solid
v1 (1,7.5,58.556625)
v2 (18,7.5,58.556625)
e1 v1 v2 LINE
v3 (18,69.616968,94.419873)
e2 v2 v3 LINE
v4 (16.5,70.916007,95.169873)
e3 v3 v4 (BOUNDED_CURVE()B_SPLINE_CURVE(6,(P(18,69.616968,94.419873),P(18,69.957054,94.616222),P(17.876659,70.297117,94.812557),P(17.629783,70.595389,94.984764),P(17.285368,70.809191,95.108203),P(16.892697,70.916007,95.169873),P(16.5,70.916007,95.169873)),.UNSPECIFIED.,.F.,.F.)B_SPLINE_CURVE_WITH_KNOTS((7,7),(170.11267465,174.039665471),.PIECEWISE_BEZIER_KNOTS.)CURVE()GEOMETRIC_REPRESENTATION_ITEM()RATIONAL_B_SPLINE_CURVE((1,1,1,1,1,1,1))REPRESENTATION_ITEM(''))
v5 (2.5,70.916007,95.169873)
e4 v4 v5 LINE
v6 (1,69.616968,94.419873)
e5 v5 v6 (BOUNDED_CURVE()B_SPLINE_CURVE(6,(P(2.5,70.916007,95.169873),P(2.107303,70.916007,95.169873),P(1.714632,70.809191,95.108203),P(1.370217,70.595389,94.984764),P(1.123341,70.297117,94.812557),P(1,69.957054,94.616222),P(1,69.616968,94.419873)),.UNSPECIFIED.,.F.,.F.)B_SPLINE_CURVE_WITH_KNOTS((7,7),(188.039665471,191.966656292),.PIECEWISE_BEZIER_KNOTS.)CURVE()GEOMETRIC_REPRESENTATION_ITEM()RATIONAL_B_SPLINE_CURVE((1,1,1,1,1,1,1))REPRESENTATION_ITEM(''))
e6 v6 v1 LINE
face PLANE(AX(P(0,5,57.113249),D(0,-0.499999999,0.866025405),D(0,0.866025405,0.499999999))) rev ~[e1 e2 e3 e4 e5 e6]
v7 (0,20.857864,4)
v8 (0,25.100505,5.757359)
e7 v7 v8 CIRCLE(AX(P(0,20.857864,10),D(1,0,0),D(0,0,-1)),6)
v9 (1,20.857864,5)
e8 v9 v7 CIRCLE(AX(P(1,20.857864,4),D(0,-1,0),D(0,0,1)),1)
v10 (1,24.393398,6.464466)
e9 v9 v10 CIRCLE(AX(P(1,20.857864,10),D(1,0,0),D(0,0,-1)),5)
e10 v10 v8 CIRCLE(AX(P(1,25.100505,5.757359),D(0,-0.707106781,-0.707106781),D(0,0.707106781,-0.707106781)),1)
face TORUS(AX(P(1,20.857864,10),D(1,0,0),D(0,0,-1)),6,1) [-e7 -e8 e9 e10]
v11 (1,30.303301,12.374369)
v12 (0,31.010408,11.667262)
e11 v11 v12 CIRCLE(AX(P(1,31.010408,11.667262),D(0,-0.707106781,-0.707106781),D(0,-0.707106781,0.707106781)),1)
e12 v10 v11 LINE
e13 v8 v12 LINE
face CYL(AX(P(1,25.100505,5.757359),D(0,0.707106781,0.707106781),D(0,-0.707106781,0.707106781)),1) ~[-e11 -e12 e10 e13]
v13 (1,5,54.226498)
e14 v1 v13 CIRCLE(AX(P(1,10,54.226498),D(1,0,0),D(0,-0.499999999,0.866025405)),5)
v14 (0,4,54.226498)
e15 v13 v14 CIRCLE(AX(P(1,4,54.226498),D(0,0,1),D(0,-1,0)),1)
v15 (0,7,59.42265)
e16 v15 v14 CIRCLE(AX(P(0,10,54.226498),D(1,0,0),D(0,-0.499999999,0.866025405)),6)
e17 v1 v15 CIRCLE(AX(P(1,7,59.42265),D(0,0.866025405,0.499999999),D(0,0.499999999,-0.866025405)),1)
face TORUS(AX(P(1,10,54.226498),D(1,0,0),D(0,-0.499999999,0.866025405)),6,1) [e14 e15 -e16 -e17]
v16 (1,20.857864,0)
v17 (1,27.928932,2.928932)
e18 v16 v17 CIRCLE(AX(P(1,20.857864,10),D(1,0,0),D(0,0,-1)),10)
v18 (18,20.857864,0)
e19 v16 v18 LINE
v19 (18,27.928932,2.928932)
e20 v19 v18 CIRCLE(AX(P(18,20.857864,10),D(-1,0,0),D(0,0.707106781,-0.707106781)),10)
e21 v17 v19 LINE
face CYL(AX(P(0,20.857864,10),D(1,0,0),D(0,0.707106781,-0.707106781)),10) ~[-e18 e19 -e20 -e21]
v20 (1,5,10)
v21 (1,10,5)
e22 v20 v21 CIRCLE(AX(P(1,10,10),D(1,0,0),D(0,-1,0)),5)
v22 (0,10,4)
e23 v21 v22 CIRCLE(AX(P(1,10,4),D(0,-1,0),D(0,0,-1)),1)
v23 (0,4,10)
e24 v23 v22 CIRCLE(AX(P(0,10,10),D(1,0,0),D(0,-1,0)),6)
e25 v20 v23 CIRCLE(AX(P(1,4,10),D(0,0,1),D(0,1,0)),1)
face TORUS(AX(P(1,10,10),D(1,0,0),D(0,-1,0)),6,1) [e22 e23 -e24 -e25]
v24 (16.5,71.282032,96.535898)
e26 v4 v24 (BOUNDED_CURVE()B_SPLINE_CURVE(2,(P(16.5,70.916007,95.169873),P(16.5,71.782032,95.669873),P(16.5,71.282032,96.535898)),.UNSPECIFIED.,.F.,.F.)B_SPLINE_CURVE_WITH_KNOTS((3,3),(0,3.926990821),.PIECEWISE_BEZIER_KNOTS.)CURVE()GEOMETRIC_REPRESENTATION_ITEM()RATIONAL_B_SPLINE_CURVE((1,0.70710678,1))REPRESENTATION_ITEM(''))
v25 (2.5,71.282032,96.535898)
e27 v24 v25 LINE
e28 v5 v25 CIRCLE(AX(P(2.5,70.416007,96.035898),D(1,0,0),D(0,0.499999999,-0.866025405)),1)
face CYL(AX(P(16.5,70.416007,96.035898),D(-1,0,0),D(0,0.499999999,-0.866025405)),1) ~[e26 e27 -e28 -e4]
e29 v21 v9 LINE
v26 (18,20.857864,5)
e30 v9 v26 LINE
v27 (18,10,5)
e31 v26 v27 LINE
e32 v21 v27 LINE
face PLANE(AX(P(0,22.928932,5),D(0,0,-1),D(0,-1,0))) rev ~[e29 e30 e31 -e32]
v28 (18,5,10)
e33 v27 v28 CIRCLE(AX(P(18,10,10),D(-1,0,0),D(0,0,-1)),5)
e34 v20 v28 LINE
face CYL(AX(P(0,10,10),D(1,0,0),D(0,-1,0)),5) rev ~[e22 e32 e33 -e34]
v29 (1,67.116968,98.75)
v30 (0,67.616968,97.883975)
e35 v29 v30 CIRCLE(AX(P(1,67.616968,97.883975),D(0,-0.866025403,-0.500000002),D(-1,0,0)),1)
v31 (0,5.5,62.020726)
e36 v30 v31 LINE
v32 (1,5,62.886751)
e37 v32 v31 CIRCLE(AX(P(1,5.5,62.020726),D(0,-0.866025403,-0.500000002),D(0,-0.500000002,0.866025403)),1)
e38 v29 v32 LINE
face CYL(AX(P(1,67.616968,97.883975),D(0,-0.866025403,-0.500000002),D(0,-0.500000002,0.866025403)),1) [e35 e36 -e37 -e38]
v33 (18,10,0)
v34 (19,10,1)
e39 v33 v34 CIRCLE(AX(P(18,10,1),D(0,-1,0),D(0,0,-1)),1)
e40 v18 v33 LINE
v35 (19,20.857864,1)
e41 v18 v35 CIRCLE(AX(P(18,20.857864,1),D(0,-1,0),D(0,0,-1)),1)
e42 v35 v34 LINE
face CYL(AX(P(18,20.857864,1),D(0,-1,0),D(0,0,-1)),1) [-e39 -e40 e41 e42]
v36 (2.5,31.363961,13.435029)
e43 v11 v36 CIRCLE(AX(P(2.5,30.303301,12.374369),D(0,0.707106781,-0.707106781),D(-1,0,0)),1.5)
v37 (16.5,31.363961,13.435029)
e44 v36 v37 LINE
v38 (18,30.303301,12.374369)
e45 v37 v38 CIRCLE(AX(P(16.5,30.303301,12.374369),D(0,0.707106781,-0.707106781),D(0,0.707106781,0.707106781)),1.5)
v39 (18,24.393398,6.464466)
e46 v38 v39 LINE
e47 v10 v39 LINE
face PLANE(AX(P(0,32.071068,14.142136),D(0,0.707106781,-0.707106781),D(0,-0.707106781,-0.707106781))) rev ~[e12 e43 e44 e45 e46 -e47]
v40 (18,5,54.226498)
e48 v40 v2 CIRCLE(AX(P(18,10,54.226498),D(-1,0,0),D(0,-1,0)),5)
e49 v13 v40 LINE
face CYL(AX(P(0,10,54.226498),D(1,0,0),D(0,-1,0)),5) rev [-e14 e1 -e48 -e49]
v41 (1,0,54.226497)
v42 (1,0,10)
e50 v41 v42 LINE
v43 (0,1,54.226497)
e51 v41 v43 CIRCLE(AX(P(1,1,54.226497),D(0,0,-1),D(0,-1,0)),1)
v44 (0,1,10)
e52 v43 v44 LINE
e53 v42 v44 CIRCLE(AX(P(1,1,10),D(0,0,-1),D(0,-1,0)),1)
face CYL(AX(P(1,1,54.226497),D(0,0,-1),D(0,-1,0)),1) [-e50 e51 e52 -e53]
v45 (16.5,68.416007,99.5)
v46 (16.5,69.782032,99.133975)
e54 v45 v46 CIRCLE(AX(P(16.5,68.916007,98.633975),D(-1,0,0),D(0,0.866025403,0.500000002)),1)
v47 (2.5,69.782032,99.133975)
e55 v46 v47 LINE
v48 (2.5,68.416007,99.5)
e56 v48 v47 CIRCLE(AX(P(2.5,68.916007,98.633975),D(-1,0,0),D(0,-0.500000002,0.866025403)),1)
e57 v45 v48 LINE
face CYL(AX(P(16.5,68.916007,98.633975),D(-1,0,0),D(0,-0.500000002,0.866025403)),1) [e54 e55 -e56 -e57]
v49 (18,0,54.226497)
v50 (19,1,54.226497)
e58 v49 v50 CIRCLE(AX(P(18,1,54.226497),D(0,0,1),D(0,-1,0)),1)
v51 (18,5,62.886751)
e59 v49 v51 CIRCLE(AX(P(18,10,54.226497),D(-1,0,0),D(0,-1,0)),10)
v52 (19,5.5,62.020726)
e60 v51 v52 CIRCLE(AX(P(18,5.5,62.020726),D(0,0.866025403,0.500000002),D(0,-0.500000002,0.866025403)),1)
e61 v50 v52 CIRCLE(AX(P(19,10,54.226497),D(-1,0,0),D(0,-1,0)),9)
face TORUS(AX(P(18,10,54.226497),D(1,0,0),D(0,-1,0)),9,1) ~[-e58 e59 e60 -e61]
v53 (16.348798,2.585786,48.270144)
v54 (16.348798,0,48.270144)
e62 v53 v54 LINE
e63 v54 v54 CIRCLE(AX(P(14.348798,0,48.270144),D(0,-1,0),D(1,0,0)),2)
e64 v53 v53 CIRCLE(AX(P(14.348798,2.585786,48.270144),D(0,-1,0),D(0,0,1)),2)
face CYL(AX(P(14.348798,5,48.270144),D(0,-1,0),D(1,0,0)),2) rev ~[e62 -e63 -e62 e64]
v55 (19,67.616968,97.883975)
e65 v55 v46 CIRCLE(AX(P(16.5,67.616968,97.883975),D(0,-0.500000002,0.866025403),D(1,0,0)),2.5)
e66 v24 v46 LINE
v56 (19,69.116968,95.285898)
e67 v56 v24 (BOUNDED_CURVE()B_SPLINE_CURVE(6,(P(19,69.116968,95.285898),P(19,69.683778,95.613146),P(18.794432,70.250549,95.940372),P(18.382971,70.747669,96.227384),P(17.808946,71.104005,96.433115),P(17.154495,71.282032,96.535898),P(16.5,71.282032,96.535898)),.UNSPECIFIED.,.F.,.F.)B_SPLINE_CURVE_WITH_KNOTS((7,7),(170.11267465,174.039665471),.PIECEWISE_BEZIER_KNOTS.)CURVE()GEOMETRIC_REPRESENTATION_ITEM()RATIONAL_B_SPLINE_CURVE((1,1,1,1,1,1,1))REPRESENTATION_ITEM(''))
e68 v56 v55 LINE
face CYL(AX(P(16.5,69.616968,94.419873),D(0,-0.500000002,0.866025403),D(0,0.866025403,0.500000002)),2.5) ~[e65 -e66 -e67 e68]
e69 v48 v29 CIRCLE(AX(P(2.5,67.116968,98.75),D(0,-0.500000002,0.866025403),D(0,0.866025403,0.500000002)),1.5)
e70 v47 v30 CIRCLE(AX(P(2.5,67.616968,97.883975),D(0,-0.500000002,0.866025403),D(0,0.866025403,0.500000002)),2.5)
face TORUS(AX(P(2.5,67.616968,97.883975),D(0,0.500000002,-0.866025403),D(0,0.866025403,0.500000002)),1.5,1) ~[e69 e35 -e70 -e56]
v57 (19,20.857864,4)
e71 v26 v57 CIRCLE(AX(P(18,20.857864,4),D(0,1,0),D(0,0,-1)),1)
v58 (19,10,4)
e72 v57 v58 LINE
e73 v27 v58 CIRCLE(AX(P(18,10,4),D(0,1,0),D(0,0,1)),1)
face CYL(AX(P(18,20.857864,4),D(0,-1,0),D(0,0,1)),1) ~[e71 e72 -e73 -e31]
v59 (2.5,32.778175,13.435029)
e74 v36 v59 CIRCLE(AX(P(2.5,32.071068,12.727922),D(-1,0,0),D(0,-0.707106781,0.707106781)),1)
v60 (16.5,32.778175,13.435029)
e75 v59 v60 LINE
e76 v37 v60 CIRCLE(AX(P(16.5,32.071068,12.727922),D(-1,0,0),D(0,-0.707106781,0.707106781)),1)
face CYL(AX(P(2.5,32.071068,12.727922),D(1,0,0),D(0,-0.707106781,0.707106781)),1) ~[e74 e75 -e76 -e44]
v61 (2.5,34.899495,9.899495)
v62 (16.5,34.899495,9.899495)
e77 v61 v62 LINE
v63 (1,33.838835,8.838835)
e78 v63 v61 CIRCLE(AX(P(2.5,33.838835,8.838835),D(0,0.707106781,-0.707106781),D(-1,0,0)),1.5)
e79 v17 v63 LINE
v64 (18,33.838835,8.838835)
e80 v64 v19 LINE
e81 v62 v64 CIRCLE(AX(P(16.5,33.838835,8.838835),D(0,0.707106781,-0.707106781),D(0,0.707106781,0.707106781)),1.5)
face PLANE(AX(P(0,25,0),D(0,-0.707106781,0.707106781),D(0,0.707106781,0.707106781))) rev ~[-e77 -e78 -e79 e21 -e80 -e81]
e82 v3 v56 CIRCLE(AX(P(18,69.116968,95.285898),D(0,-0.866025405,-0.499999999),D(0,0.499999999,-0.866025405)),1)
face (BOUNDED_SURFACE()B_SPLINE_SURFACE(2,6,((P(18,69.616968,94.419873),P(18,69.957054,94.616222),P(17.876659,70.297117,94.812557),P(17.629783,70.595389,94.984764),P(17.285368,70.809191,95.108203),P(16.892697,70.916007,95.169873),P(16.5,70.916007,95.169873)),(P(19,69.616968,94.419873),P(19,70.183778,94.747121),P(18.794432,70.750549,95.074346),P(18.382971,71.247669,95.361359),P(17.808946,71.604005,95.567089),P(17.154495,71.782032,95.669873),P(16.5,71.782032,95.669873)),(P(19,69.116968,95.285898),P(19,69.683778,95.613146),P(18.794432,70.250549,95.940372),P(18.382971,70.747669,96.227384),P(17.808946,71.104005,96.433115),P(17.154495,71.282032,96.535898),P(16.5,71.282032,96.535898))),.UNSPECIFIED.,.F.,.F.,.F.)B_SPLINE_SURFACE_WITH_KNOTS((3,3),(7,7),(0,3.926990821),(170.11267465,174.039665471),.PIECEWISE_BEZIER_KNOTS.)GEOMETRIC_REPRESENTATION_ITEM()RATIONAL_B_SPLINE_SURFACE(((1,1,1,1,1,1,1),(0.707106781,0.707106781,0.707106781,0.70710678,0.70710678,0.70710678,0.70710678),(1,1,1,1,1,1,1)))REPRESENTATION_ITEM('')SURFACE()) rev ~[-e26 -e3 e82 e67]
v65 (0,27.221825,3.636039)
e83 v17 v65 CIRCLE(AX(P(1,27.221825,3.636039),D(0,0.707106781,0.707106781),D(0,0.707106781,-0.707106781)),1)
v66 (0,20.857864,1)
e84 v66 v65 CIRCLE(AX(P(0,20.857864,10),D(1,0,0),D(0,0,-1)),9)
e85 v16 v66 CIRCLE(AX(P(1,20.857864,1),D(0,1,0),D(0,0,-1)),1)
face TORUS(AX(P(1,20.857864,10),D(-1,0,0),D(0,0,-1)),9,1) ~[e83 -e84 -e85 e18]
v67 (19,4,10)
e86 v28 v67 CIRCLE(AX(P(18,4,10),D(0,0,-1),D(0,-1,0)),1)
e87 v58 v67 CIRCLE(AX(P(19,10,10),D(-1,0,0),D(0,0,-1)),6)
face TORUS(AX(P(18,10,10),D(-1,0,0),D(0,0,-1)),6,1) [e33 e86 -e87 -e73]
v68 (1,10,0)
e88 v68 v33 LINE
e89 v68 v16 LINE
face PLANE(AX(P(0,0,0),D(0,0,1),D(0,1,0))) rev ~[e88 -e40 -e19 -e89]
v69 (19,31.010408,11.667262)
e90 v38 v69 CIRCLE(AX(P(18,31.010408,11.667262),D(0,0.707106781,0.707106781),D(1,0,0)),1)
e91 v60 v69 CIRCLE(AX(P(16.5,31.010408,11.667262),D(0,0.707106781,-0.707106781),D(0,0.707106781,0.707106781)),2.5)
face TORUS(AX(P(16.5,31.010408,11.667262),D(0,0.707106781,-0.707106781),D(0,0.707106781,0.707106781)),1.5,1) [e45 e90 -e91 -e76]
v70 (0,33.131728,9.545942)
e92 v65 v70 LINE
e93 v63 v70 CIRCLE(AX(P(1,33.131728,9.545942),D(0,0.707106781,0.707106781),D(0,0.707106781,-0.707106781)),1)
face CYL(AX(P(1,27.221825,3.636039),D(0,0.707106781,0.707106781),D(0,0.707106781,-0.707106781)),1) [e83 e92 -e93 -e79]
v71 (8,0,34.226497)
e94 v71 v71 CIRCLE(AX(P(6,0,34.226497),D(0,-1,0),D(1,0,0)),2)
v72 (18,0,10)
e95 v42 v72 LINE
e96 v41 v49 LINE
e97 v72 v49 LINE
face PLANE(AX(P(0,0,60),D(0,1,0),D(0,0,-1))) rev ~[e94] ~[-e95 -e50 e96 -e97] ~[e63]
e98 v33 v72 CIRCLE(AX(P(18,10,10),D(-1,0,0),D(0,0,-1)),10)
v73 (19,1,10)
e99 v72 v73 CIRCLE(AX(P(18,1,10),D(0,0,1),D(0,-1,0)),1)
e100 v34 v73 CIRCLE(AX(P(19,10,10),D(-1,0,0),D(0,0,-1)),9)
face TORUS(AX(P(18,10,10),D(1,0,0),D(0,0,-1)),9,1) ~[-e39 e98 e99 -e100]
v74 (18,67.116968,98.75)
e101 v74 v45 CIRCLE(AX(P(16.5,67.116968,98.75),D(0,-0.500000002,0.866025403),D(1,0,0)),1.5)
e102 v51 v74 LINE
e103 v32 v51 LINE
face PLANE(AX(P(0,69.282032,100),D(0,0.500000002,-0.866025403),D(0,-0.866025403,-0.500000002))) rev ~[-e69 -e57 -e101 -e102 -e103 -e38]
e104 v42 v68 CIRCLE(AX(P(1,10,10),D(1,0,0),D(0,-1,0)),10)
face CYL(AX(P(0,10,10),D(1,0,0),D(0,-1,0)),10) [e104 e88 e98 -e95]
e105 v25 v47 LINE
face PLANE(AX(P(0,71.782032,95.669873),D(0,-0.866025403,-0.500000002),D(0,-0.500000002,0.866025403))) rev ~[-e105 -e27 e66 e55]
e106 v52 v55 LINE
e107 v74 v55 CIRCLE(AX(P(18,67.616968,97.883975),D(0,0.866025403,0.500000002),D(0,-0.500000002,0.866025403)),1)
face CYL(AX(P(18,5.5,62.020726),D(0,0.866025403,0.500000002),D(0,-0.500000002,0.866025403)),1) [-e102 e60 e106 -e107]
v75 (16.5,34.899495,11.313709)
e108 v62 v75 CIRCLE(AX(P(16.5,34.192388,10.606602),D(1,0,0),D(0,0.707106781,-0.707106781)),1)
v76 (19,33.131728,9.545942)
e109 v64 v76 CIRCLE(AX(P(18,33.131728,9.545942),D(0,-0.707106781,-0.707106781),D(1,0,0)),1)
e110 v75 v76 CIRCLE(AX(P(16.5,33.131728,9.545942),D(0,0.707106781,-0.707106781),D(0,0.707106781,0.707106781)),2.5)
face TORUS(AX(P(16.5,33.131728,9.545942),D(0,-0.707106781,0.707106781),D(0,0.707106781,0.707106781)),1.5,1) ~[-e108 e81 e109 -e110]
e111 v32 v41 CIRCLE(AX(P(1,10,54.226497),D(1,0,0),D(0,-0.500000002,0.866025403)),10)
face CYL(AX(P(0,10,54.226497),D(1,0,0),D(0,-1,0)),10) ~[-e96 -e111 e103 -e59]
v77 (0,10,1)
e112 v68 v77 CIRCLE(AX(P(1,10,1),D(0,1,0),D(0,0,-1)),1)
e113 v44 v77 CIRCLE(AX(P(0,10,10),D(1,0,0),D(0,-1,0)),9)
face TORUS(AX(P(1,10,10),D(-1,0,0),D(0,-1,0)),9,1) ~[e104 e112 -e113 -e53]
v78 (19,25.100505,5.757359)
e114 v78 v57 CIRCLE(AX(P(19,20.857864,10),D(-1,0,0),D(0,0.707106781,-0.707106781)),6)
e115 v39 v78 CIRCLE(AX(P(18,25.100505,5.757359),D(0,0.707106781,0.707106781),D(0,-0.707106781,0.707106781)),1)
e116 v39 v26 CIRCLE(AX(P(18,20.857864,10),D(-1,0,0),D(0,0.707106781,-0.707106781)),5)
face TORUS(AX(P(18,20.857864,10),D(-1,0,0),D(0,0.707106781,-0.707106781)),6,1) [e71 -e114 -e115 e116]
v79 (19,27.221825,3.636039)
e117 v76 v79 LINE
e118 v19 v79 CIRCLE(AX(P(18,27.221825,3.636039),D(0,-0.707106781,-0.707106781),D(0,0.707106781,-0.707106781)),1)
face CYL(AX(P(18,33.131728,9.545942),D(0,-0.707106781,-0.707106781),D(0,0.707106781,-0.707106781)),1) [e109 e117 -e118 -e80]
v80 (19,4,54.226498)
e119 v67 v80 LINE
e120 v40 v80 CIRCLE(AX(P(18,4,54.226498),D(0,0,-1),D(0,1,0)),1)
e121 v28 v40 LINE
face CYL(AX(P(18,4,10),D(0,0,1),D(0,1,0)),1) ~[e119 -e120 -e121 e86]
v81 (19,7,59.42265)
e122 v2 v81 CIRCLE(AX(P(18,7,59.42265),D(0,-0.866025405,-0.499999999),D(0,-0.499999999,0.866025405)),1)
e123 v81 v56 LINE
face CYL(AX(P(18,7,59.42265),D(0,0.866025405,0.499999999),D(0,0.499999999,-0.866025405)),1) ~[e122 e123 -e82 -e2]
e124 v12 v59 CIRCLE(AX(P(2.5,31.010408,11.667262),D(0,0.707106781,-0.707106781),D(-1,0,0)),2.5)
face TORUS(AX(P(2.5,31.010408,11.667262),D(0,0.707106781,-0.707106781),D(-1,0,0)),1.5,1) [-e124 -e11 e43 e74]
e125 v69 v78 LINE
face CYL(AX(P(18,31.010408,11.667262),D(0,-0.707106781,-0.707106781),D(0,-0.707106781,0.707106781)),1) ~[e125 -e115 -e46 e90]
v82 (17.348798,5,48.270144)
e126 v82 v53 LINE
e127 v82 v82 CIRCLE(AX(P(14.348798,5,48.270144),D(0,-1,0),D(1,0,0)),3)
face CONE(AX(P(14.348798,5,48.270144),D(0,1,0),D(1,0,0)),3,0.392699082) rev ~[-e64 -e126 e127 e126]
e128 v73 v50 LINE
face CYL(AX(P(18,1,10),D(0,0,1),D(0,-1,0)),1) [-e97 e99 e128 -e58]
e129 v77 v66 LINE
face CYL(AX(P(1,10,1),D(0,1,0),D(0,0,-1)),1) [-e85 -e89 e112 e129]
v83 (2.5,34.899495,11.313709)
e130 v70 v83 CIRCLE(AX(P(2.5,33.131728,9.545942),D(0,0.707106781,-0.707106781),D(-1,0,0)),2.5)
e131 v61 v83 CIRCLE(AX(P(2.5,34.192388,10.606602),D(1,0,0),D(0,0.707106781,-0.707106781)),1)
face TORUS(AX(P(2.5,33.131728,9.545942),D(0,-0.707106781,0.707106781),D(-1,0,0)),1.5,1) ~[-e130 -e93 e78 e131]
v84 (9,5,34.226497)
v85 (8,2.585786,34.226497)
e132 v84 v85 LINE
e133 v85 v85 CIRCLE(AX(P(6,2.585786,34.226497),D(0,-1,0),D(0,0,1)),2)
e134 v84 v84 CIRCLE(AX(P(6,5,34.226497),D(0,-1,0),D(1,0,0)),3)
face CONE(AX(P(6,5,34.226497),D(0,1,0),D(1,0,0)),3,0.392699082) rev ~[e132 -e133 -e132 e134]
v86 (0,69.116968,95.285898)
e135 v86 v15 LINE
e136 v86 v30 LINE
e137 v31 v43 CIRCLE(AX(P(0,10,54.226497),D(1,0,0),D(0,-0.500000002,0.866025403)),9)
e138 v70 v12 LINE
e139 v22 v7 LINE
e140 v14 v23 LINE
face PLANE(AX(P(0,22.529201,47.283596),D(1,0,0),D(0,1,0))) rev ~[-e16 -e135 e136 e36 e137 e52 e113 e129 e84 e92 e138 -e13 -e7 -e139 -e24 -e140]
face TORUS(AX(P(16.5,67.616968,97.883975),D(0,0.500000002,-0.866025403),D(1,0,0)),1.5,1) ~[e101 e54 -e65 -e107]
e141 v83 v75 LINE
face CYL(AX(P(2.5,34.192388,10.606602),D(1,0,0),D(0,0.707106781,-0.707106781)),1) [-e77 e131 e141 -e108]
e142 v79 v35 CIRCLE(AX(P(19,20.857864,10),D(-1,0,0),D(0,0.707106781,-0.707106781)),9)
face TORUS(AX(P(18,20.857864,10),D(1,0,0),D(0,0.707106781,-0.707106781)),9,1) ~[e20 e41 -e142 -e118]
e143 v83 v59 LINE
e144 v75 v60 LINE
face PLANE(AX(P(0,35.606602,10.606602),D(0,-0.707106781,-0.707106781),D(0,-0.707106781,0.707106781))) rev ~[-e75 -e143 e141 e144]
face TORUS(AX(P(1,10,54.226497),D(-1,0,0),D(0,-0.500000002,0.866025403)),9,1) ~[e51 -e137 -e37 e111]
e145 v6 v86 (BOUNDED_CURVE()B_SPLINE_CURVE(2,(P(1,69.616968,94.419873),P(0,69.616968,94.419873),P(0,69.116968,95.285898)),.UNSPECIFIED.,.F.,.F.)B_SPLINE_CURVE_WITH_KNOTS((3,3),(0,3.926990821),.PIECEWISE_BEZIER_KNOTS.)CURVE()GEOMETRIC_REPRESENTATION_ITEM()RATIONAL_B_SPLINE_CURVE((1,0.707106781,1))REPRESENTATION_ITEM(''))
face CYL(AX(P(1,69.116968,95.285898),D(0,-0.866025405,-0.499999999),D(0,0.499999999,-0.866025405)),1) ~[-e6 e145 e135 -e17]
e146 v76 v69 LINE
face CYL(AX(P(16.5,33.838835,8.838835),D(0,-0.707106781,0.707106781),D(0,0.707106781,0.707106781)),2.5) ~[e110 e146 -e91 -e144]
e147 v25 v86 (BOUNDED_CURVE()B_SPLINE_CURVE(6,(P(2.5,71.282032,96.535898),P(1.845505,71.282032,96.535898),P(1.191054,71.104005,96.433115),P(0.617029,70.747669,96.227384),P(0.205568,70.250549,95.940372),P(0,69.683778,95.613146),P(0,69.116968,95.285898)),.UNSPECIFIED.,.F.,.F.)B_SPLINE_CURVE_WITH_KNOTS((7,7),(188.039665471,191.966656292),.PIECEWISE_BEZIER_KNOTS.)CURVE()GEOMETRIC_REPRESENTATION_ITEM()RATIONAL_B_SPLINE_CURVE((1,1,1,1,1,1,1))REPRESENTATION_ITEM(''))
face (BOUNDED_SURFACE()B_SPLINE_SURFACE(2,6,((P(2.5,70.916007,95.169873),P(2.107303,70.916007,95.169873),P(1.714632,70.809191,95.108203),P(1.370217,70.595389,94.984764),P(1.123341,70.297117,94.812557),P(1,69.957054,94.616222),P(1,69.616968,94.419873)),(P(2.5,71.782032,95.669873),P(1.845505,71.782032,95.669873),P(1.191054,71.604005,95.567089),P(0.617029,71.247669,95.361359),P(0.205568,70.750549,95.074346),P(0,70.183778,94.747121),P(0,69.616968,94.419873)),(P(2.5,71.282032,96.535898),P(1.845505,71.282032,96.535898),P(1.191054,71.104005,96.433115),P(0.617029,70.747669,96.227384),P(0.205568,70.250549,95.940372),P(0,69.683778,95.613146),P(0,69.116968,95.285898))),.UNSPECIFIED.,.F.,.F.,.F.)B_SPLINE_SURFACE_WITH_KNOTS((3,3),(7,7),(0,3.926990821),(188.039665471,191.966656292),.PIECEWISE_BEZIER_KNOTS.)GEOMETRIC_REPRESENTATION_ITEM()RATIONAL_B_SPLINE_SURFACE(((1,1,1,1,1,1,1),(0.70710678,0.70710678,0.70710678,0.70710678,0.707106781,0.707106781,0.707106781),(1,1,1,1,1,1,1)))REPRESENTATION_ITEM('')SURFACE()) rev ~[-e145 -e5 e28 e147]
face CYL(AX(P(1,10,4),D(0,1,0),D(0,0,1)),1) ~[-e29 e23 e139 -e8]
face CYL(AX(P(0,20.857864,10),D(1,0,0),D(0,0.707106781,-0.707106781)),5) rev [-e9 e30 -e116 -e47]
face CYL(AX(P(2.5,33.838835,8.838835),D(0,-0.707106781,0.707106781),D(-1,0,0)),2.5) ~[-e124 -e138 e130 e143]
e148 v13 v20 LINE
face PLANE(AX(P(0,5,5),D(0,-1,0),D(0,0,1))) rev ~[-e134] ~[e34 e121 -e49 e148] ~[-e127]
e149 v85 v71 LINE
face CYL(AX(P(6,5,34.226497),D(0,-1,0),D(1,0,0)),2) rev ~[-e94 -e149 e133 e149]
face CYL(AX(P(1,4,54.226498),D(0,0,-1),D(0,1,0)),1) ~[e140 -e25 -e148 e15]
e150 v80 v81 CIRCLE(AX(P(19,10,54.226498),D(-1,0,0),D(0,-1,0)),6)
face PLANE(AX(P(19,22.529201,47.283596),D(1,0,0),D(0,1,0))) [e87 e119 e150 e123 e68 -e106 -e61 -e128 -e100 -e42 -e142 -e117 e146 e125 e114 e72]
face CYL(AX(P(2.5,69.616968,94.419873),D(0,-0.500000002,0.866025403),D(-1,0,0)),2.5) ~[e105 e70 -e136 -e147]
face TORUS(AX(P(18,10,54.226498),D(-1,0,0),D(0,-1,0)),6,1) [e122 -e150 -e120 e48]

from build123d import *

# Parameters (mm, degrees)
F1_DEPTH        = 19
F2_R            = 10
F3_R            = 10
F4_R            = 5
F5_R            = 5
F6_R            = 10
F7_R            = 5
F8_R            = 2.5
F9_R            = 1
F11_D           = 4
F11_CSINK_D     = 6
F11_CSINK_ANGLE = 45
F12_D           = 4
F12_CSINK_D     = 6
F12_CSINK_ANGLE = 45


with BuildPart() as f1:
    # F0 (on Right) → F1 (new body)
    with BuildSketch(Plane.YZ):
        Polygon((0, 60), (0, 0), (25, 0), (35.606602, 10.606602), (32.071068, 14.142136), (22.928932, 5), (5, 5), (5, 57.113249), (71.782032, 95.669873), (69.282032, 100), align=None)
    extrude(amount=F1_DEPTH)

    # F2
    f2_edges = [f1.edges().sort_by_distance(p)[0] for p in [
        (9.5, 0, 60),
    ]]
    fillet(f2_edges, radius=F2_R)

    # F3
    f3_edges = [f1.edges().sort_by_distance(p)[0] for p in [
        (9.5, 0, 0),
    ]]
    fillet(f3_edges, radius=F3_R)

    # F4
    f4_edges = [f1.edges().sort_by_distance(p)[0] for p in [
        (9.5, 5, 5),
    ]]
    fillet(f4_edges, radius=F4_R)

    # F5
    f5_edges = [f1.edges().sort_by_distance(p)[0] for p in [
        (9.5, 5, 57.113249),
    ]]
    fillet(f5_edges, radius=F5_R)

    # F6
    f6_edges = [f1.edges().sort_by_distance(p)[0] for p in [
        (9.5, 25, 0),
    ]]
    fillet(f6_edges, radius=F6_R)

    # F7
    f7_edges = [f1.edges().sort_by_distance(p)[0] for p in [
        (9.5, 22.928932, 5),
    ]]
    fillet(f7_edges, radius=F7_R)

    # F8
    f8_edges = [f1.edges().sort_by_distance(p)[0] for p in [
        (19, 33.838835, 12.374369),
        (0, 33.838835, 12.374369),
        (0, 70.532032, 97.834936),
        (19, 70.532032, 97.834936),
    ]]
    fillet(f8_edges, radius=F8_R)

    # F9
    f9_edges = [f1.edges().sort_by_distance(p)[0] for p in [
        (9.5, 35.606602, 10.606602),
        (9.5, 32.071068, 14.142136),
    ]]
    fillet(f9_edges, radius=F9_R)

    # F11 (through all)
    with Locations(Plane(origin=(0, 5, 0), x_dir=(-1, 0, 0), z_dir=(0, 1, 0))):
        with Locations((-14.348798, 48.270144)):
            CounterSinkHole(F11_D / 2, F11_CSINK_D / 2, counter_sink_angle=F11_CSINK_ANGLE)

    # F12 (through all)
    with Locations(Plane(origin=(0, 5, 0), x_dir=(-1, 0, 0), z_dir=(0, 1, 0))):
        with Locations((-6, 34.226497)):
            CounterSinkHole(F12_D / 2, F12_CSINK_D / 2, counter_sink_angle=F12_CSINK_ANGLE)


solid = f1.part
